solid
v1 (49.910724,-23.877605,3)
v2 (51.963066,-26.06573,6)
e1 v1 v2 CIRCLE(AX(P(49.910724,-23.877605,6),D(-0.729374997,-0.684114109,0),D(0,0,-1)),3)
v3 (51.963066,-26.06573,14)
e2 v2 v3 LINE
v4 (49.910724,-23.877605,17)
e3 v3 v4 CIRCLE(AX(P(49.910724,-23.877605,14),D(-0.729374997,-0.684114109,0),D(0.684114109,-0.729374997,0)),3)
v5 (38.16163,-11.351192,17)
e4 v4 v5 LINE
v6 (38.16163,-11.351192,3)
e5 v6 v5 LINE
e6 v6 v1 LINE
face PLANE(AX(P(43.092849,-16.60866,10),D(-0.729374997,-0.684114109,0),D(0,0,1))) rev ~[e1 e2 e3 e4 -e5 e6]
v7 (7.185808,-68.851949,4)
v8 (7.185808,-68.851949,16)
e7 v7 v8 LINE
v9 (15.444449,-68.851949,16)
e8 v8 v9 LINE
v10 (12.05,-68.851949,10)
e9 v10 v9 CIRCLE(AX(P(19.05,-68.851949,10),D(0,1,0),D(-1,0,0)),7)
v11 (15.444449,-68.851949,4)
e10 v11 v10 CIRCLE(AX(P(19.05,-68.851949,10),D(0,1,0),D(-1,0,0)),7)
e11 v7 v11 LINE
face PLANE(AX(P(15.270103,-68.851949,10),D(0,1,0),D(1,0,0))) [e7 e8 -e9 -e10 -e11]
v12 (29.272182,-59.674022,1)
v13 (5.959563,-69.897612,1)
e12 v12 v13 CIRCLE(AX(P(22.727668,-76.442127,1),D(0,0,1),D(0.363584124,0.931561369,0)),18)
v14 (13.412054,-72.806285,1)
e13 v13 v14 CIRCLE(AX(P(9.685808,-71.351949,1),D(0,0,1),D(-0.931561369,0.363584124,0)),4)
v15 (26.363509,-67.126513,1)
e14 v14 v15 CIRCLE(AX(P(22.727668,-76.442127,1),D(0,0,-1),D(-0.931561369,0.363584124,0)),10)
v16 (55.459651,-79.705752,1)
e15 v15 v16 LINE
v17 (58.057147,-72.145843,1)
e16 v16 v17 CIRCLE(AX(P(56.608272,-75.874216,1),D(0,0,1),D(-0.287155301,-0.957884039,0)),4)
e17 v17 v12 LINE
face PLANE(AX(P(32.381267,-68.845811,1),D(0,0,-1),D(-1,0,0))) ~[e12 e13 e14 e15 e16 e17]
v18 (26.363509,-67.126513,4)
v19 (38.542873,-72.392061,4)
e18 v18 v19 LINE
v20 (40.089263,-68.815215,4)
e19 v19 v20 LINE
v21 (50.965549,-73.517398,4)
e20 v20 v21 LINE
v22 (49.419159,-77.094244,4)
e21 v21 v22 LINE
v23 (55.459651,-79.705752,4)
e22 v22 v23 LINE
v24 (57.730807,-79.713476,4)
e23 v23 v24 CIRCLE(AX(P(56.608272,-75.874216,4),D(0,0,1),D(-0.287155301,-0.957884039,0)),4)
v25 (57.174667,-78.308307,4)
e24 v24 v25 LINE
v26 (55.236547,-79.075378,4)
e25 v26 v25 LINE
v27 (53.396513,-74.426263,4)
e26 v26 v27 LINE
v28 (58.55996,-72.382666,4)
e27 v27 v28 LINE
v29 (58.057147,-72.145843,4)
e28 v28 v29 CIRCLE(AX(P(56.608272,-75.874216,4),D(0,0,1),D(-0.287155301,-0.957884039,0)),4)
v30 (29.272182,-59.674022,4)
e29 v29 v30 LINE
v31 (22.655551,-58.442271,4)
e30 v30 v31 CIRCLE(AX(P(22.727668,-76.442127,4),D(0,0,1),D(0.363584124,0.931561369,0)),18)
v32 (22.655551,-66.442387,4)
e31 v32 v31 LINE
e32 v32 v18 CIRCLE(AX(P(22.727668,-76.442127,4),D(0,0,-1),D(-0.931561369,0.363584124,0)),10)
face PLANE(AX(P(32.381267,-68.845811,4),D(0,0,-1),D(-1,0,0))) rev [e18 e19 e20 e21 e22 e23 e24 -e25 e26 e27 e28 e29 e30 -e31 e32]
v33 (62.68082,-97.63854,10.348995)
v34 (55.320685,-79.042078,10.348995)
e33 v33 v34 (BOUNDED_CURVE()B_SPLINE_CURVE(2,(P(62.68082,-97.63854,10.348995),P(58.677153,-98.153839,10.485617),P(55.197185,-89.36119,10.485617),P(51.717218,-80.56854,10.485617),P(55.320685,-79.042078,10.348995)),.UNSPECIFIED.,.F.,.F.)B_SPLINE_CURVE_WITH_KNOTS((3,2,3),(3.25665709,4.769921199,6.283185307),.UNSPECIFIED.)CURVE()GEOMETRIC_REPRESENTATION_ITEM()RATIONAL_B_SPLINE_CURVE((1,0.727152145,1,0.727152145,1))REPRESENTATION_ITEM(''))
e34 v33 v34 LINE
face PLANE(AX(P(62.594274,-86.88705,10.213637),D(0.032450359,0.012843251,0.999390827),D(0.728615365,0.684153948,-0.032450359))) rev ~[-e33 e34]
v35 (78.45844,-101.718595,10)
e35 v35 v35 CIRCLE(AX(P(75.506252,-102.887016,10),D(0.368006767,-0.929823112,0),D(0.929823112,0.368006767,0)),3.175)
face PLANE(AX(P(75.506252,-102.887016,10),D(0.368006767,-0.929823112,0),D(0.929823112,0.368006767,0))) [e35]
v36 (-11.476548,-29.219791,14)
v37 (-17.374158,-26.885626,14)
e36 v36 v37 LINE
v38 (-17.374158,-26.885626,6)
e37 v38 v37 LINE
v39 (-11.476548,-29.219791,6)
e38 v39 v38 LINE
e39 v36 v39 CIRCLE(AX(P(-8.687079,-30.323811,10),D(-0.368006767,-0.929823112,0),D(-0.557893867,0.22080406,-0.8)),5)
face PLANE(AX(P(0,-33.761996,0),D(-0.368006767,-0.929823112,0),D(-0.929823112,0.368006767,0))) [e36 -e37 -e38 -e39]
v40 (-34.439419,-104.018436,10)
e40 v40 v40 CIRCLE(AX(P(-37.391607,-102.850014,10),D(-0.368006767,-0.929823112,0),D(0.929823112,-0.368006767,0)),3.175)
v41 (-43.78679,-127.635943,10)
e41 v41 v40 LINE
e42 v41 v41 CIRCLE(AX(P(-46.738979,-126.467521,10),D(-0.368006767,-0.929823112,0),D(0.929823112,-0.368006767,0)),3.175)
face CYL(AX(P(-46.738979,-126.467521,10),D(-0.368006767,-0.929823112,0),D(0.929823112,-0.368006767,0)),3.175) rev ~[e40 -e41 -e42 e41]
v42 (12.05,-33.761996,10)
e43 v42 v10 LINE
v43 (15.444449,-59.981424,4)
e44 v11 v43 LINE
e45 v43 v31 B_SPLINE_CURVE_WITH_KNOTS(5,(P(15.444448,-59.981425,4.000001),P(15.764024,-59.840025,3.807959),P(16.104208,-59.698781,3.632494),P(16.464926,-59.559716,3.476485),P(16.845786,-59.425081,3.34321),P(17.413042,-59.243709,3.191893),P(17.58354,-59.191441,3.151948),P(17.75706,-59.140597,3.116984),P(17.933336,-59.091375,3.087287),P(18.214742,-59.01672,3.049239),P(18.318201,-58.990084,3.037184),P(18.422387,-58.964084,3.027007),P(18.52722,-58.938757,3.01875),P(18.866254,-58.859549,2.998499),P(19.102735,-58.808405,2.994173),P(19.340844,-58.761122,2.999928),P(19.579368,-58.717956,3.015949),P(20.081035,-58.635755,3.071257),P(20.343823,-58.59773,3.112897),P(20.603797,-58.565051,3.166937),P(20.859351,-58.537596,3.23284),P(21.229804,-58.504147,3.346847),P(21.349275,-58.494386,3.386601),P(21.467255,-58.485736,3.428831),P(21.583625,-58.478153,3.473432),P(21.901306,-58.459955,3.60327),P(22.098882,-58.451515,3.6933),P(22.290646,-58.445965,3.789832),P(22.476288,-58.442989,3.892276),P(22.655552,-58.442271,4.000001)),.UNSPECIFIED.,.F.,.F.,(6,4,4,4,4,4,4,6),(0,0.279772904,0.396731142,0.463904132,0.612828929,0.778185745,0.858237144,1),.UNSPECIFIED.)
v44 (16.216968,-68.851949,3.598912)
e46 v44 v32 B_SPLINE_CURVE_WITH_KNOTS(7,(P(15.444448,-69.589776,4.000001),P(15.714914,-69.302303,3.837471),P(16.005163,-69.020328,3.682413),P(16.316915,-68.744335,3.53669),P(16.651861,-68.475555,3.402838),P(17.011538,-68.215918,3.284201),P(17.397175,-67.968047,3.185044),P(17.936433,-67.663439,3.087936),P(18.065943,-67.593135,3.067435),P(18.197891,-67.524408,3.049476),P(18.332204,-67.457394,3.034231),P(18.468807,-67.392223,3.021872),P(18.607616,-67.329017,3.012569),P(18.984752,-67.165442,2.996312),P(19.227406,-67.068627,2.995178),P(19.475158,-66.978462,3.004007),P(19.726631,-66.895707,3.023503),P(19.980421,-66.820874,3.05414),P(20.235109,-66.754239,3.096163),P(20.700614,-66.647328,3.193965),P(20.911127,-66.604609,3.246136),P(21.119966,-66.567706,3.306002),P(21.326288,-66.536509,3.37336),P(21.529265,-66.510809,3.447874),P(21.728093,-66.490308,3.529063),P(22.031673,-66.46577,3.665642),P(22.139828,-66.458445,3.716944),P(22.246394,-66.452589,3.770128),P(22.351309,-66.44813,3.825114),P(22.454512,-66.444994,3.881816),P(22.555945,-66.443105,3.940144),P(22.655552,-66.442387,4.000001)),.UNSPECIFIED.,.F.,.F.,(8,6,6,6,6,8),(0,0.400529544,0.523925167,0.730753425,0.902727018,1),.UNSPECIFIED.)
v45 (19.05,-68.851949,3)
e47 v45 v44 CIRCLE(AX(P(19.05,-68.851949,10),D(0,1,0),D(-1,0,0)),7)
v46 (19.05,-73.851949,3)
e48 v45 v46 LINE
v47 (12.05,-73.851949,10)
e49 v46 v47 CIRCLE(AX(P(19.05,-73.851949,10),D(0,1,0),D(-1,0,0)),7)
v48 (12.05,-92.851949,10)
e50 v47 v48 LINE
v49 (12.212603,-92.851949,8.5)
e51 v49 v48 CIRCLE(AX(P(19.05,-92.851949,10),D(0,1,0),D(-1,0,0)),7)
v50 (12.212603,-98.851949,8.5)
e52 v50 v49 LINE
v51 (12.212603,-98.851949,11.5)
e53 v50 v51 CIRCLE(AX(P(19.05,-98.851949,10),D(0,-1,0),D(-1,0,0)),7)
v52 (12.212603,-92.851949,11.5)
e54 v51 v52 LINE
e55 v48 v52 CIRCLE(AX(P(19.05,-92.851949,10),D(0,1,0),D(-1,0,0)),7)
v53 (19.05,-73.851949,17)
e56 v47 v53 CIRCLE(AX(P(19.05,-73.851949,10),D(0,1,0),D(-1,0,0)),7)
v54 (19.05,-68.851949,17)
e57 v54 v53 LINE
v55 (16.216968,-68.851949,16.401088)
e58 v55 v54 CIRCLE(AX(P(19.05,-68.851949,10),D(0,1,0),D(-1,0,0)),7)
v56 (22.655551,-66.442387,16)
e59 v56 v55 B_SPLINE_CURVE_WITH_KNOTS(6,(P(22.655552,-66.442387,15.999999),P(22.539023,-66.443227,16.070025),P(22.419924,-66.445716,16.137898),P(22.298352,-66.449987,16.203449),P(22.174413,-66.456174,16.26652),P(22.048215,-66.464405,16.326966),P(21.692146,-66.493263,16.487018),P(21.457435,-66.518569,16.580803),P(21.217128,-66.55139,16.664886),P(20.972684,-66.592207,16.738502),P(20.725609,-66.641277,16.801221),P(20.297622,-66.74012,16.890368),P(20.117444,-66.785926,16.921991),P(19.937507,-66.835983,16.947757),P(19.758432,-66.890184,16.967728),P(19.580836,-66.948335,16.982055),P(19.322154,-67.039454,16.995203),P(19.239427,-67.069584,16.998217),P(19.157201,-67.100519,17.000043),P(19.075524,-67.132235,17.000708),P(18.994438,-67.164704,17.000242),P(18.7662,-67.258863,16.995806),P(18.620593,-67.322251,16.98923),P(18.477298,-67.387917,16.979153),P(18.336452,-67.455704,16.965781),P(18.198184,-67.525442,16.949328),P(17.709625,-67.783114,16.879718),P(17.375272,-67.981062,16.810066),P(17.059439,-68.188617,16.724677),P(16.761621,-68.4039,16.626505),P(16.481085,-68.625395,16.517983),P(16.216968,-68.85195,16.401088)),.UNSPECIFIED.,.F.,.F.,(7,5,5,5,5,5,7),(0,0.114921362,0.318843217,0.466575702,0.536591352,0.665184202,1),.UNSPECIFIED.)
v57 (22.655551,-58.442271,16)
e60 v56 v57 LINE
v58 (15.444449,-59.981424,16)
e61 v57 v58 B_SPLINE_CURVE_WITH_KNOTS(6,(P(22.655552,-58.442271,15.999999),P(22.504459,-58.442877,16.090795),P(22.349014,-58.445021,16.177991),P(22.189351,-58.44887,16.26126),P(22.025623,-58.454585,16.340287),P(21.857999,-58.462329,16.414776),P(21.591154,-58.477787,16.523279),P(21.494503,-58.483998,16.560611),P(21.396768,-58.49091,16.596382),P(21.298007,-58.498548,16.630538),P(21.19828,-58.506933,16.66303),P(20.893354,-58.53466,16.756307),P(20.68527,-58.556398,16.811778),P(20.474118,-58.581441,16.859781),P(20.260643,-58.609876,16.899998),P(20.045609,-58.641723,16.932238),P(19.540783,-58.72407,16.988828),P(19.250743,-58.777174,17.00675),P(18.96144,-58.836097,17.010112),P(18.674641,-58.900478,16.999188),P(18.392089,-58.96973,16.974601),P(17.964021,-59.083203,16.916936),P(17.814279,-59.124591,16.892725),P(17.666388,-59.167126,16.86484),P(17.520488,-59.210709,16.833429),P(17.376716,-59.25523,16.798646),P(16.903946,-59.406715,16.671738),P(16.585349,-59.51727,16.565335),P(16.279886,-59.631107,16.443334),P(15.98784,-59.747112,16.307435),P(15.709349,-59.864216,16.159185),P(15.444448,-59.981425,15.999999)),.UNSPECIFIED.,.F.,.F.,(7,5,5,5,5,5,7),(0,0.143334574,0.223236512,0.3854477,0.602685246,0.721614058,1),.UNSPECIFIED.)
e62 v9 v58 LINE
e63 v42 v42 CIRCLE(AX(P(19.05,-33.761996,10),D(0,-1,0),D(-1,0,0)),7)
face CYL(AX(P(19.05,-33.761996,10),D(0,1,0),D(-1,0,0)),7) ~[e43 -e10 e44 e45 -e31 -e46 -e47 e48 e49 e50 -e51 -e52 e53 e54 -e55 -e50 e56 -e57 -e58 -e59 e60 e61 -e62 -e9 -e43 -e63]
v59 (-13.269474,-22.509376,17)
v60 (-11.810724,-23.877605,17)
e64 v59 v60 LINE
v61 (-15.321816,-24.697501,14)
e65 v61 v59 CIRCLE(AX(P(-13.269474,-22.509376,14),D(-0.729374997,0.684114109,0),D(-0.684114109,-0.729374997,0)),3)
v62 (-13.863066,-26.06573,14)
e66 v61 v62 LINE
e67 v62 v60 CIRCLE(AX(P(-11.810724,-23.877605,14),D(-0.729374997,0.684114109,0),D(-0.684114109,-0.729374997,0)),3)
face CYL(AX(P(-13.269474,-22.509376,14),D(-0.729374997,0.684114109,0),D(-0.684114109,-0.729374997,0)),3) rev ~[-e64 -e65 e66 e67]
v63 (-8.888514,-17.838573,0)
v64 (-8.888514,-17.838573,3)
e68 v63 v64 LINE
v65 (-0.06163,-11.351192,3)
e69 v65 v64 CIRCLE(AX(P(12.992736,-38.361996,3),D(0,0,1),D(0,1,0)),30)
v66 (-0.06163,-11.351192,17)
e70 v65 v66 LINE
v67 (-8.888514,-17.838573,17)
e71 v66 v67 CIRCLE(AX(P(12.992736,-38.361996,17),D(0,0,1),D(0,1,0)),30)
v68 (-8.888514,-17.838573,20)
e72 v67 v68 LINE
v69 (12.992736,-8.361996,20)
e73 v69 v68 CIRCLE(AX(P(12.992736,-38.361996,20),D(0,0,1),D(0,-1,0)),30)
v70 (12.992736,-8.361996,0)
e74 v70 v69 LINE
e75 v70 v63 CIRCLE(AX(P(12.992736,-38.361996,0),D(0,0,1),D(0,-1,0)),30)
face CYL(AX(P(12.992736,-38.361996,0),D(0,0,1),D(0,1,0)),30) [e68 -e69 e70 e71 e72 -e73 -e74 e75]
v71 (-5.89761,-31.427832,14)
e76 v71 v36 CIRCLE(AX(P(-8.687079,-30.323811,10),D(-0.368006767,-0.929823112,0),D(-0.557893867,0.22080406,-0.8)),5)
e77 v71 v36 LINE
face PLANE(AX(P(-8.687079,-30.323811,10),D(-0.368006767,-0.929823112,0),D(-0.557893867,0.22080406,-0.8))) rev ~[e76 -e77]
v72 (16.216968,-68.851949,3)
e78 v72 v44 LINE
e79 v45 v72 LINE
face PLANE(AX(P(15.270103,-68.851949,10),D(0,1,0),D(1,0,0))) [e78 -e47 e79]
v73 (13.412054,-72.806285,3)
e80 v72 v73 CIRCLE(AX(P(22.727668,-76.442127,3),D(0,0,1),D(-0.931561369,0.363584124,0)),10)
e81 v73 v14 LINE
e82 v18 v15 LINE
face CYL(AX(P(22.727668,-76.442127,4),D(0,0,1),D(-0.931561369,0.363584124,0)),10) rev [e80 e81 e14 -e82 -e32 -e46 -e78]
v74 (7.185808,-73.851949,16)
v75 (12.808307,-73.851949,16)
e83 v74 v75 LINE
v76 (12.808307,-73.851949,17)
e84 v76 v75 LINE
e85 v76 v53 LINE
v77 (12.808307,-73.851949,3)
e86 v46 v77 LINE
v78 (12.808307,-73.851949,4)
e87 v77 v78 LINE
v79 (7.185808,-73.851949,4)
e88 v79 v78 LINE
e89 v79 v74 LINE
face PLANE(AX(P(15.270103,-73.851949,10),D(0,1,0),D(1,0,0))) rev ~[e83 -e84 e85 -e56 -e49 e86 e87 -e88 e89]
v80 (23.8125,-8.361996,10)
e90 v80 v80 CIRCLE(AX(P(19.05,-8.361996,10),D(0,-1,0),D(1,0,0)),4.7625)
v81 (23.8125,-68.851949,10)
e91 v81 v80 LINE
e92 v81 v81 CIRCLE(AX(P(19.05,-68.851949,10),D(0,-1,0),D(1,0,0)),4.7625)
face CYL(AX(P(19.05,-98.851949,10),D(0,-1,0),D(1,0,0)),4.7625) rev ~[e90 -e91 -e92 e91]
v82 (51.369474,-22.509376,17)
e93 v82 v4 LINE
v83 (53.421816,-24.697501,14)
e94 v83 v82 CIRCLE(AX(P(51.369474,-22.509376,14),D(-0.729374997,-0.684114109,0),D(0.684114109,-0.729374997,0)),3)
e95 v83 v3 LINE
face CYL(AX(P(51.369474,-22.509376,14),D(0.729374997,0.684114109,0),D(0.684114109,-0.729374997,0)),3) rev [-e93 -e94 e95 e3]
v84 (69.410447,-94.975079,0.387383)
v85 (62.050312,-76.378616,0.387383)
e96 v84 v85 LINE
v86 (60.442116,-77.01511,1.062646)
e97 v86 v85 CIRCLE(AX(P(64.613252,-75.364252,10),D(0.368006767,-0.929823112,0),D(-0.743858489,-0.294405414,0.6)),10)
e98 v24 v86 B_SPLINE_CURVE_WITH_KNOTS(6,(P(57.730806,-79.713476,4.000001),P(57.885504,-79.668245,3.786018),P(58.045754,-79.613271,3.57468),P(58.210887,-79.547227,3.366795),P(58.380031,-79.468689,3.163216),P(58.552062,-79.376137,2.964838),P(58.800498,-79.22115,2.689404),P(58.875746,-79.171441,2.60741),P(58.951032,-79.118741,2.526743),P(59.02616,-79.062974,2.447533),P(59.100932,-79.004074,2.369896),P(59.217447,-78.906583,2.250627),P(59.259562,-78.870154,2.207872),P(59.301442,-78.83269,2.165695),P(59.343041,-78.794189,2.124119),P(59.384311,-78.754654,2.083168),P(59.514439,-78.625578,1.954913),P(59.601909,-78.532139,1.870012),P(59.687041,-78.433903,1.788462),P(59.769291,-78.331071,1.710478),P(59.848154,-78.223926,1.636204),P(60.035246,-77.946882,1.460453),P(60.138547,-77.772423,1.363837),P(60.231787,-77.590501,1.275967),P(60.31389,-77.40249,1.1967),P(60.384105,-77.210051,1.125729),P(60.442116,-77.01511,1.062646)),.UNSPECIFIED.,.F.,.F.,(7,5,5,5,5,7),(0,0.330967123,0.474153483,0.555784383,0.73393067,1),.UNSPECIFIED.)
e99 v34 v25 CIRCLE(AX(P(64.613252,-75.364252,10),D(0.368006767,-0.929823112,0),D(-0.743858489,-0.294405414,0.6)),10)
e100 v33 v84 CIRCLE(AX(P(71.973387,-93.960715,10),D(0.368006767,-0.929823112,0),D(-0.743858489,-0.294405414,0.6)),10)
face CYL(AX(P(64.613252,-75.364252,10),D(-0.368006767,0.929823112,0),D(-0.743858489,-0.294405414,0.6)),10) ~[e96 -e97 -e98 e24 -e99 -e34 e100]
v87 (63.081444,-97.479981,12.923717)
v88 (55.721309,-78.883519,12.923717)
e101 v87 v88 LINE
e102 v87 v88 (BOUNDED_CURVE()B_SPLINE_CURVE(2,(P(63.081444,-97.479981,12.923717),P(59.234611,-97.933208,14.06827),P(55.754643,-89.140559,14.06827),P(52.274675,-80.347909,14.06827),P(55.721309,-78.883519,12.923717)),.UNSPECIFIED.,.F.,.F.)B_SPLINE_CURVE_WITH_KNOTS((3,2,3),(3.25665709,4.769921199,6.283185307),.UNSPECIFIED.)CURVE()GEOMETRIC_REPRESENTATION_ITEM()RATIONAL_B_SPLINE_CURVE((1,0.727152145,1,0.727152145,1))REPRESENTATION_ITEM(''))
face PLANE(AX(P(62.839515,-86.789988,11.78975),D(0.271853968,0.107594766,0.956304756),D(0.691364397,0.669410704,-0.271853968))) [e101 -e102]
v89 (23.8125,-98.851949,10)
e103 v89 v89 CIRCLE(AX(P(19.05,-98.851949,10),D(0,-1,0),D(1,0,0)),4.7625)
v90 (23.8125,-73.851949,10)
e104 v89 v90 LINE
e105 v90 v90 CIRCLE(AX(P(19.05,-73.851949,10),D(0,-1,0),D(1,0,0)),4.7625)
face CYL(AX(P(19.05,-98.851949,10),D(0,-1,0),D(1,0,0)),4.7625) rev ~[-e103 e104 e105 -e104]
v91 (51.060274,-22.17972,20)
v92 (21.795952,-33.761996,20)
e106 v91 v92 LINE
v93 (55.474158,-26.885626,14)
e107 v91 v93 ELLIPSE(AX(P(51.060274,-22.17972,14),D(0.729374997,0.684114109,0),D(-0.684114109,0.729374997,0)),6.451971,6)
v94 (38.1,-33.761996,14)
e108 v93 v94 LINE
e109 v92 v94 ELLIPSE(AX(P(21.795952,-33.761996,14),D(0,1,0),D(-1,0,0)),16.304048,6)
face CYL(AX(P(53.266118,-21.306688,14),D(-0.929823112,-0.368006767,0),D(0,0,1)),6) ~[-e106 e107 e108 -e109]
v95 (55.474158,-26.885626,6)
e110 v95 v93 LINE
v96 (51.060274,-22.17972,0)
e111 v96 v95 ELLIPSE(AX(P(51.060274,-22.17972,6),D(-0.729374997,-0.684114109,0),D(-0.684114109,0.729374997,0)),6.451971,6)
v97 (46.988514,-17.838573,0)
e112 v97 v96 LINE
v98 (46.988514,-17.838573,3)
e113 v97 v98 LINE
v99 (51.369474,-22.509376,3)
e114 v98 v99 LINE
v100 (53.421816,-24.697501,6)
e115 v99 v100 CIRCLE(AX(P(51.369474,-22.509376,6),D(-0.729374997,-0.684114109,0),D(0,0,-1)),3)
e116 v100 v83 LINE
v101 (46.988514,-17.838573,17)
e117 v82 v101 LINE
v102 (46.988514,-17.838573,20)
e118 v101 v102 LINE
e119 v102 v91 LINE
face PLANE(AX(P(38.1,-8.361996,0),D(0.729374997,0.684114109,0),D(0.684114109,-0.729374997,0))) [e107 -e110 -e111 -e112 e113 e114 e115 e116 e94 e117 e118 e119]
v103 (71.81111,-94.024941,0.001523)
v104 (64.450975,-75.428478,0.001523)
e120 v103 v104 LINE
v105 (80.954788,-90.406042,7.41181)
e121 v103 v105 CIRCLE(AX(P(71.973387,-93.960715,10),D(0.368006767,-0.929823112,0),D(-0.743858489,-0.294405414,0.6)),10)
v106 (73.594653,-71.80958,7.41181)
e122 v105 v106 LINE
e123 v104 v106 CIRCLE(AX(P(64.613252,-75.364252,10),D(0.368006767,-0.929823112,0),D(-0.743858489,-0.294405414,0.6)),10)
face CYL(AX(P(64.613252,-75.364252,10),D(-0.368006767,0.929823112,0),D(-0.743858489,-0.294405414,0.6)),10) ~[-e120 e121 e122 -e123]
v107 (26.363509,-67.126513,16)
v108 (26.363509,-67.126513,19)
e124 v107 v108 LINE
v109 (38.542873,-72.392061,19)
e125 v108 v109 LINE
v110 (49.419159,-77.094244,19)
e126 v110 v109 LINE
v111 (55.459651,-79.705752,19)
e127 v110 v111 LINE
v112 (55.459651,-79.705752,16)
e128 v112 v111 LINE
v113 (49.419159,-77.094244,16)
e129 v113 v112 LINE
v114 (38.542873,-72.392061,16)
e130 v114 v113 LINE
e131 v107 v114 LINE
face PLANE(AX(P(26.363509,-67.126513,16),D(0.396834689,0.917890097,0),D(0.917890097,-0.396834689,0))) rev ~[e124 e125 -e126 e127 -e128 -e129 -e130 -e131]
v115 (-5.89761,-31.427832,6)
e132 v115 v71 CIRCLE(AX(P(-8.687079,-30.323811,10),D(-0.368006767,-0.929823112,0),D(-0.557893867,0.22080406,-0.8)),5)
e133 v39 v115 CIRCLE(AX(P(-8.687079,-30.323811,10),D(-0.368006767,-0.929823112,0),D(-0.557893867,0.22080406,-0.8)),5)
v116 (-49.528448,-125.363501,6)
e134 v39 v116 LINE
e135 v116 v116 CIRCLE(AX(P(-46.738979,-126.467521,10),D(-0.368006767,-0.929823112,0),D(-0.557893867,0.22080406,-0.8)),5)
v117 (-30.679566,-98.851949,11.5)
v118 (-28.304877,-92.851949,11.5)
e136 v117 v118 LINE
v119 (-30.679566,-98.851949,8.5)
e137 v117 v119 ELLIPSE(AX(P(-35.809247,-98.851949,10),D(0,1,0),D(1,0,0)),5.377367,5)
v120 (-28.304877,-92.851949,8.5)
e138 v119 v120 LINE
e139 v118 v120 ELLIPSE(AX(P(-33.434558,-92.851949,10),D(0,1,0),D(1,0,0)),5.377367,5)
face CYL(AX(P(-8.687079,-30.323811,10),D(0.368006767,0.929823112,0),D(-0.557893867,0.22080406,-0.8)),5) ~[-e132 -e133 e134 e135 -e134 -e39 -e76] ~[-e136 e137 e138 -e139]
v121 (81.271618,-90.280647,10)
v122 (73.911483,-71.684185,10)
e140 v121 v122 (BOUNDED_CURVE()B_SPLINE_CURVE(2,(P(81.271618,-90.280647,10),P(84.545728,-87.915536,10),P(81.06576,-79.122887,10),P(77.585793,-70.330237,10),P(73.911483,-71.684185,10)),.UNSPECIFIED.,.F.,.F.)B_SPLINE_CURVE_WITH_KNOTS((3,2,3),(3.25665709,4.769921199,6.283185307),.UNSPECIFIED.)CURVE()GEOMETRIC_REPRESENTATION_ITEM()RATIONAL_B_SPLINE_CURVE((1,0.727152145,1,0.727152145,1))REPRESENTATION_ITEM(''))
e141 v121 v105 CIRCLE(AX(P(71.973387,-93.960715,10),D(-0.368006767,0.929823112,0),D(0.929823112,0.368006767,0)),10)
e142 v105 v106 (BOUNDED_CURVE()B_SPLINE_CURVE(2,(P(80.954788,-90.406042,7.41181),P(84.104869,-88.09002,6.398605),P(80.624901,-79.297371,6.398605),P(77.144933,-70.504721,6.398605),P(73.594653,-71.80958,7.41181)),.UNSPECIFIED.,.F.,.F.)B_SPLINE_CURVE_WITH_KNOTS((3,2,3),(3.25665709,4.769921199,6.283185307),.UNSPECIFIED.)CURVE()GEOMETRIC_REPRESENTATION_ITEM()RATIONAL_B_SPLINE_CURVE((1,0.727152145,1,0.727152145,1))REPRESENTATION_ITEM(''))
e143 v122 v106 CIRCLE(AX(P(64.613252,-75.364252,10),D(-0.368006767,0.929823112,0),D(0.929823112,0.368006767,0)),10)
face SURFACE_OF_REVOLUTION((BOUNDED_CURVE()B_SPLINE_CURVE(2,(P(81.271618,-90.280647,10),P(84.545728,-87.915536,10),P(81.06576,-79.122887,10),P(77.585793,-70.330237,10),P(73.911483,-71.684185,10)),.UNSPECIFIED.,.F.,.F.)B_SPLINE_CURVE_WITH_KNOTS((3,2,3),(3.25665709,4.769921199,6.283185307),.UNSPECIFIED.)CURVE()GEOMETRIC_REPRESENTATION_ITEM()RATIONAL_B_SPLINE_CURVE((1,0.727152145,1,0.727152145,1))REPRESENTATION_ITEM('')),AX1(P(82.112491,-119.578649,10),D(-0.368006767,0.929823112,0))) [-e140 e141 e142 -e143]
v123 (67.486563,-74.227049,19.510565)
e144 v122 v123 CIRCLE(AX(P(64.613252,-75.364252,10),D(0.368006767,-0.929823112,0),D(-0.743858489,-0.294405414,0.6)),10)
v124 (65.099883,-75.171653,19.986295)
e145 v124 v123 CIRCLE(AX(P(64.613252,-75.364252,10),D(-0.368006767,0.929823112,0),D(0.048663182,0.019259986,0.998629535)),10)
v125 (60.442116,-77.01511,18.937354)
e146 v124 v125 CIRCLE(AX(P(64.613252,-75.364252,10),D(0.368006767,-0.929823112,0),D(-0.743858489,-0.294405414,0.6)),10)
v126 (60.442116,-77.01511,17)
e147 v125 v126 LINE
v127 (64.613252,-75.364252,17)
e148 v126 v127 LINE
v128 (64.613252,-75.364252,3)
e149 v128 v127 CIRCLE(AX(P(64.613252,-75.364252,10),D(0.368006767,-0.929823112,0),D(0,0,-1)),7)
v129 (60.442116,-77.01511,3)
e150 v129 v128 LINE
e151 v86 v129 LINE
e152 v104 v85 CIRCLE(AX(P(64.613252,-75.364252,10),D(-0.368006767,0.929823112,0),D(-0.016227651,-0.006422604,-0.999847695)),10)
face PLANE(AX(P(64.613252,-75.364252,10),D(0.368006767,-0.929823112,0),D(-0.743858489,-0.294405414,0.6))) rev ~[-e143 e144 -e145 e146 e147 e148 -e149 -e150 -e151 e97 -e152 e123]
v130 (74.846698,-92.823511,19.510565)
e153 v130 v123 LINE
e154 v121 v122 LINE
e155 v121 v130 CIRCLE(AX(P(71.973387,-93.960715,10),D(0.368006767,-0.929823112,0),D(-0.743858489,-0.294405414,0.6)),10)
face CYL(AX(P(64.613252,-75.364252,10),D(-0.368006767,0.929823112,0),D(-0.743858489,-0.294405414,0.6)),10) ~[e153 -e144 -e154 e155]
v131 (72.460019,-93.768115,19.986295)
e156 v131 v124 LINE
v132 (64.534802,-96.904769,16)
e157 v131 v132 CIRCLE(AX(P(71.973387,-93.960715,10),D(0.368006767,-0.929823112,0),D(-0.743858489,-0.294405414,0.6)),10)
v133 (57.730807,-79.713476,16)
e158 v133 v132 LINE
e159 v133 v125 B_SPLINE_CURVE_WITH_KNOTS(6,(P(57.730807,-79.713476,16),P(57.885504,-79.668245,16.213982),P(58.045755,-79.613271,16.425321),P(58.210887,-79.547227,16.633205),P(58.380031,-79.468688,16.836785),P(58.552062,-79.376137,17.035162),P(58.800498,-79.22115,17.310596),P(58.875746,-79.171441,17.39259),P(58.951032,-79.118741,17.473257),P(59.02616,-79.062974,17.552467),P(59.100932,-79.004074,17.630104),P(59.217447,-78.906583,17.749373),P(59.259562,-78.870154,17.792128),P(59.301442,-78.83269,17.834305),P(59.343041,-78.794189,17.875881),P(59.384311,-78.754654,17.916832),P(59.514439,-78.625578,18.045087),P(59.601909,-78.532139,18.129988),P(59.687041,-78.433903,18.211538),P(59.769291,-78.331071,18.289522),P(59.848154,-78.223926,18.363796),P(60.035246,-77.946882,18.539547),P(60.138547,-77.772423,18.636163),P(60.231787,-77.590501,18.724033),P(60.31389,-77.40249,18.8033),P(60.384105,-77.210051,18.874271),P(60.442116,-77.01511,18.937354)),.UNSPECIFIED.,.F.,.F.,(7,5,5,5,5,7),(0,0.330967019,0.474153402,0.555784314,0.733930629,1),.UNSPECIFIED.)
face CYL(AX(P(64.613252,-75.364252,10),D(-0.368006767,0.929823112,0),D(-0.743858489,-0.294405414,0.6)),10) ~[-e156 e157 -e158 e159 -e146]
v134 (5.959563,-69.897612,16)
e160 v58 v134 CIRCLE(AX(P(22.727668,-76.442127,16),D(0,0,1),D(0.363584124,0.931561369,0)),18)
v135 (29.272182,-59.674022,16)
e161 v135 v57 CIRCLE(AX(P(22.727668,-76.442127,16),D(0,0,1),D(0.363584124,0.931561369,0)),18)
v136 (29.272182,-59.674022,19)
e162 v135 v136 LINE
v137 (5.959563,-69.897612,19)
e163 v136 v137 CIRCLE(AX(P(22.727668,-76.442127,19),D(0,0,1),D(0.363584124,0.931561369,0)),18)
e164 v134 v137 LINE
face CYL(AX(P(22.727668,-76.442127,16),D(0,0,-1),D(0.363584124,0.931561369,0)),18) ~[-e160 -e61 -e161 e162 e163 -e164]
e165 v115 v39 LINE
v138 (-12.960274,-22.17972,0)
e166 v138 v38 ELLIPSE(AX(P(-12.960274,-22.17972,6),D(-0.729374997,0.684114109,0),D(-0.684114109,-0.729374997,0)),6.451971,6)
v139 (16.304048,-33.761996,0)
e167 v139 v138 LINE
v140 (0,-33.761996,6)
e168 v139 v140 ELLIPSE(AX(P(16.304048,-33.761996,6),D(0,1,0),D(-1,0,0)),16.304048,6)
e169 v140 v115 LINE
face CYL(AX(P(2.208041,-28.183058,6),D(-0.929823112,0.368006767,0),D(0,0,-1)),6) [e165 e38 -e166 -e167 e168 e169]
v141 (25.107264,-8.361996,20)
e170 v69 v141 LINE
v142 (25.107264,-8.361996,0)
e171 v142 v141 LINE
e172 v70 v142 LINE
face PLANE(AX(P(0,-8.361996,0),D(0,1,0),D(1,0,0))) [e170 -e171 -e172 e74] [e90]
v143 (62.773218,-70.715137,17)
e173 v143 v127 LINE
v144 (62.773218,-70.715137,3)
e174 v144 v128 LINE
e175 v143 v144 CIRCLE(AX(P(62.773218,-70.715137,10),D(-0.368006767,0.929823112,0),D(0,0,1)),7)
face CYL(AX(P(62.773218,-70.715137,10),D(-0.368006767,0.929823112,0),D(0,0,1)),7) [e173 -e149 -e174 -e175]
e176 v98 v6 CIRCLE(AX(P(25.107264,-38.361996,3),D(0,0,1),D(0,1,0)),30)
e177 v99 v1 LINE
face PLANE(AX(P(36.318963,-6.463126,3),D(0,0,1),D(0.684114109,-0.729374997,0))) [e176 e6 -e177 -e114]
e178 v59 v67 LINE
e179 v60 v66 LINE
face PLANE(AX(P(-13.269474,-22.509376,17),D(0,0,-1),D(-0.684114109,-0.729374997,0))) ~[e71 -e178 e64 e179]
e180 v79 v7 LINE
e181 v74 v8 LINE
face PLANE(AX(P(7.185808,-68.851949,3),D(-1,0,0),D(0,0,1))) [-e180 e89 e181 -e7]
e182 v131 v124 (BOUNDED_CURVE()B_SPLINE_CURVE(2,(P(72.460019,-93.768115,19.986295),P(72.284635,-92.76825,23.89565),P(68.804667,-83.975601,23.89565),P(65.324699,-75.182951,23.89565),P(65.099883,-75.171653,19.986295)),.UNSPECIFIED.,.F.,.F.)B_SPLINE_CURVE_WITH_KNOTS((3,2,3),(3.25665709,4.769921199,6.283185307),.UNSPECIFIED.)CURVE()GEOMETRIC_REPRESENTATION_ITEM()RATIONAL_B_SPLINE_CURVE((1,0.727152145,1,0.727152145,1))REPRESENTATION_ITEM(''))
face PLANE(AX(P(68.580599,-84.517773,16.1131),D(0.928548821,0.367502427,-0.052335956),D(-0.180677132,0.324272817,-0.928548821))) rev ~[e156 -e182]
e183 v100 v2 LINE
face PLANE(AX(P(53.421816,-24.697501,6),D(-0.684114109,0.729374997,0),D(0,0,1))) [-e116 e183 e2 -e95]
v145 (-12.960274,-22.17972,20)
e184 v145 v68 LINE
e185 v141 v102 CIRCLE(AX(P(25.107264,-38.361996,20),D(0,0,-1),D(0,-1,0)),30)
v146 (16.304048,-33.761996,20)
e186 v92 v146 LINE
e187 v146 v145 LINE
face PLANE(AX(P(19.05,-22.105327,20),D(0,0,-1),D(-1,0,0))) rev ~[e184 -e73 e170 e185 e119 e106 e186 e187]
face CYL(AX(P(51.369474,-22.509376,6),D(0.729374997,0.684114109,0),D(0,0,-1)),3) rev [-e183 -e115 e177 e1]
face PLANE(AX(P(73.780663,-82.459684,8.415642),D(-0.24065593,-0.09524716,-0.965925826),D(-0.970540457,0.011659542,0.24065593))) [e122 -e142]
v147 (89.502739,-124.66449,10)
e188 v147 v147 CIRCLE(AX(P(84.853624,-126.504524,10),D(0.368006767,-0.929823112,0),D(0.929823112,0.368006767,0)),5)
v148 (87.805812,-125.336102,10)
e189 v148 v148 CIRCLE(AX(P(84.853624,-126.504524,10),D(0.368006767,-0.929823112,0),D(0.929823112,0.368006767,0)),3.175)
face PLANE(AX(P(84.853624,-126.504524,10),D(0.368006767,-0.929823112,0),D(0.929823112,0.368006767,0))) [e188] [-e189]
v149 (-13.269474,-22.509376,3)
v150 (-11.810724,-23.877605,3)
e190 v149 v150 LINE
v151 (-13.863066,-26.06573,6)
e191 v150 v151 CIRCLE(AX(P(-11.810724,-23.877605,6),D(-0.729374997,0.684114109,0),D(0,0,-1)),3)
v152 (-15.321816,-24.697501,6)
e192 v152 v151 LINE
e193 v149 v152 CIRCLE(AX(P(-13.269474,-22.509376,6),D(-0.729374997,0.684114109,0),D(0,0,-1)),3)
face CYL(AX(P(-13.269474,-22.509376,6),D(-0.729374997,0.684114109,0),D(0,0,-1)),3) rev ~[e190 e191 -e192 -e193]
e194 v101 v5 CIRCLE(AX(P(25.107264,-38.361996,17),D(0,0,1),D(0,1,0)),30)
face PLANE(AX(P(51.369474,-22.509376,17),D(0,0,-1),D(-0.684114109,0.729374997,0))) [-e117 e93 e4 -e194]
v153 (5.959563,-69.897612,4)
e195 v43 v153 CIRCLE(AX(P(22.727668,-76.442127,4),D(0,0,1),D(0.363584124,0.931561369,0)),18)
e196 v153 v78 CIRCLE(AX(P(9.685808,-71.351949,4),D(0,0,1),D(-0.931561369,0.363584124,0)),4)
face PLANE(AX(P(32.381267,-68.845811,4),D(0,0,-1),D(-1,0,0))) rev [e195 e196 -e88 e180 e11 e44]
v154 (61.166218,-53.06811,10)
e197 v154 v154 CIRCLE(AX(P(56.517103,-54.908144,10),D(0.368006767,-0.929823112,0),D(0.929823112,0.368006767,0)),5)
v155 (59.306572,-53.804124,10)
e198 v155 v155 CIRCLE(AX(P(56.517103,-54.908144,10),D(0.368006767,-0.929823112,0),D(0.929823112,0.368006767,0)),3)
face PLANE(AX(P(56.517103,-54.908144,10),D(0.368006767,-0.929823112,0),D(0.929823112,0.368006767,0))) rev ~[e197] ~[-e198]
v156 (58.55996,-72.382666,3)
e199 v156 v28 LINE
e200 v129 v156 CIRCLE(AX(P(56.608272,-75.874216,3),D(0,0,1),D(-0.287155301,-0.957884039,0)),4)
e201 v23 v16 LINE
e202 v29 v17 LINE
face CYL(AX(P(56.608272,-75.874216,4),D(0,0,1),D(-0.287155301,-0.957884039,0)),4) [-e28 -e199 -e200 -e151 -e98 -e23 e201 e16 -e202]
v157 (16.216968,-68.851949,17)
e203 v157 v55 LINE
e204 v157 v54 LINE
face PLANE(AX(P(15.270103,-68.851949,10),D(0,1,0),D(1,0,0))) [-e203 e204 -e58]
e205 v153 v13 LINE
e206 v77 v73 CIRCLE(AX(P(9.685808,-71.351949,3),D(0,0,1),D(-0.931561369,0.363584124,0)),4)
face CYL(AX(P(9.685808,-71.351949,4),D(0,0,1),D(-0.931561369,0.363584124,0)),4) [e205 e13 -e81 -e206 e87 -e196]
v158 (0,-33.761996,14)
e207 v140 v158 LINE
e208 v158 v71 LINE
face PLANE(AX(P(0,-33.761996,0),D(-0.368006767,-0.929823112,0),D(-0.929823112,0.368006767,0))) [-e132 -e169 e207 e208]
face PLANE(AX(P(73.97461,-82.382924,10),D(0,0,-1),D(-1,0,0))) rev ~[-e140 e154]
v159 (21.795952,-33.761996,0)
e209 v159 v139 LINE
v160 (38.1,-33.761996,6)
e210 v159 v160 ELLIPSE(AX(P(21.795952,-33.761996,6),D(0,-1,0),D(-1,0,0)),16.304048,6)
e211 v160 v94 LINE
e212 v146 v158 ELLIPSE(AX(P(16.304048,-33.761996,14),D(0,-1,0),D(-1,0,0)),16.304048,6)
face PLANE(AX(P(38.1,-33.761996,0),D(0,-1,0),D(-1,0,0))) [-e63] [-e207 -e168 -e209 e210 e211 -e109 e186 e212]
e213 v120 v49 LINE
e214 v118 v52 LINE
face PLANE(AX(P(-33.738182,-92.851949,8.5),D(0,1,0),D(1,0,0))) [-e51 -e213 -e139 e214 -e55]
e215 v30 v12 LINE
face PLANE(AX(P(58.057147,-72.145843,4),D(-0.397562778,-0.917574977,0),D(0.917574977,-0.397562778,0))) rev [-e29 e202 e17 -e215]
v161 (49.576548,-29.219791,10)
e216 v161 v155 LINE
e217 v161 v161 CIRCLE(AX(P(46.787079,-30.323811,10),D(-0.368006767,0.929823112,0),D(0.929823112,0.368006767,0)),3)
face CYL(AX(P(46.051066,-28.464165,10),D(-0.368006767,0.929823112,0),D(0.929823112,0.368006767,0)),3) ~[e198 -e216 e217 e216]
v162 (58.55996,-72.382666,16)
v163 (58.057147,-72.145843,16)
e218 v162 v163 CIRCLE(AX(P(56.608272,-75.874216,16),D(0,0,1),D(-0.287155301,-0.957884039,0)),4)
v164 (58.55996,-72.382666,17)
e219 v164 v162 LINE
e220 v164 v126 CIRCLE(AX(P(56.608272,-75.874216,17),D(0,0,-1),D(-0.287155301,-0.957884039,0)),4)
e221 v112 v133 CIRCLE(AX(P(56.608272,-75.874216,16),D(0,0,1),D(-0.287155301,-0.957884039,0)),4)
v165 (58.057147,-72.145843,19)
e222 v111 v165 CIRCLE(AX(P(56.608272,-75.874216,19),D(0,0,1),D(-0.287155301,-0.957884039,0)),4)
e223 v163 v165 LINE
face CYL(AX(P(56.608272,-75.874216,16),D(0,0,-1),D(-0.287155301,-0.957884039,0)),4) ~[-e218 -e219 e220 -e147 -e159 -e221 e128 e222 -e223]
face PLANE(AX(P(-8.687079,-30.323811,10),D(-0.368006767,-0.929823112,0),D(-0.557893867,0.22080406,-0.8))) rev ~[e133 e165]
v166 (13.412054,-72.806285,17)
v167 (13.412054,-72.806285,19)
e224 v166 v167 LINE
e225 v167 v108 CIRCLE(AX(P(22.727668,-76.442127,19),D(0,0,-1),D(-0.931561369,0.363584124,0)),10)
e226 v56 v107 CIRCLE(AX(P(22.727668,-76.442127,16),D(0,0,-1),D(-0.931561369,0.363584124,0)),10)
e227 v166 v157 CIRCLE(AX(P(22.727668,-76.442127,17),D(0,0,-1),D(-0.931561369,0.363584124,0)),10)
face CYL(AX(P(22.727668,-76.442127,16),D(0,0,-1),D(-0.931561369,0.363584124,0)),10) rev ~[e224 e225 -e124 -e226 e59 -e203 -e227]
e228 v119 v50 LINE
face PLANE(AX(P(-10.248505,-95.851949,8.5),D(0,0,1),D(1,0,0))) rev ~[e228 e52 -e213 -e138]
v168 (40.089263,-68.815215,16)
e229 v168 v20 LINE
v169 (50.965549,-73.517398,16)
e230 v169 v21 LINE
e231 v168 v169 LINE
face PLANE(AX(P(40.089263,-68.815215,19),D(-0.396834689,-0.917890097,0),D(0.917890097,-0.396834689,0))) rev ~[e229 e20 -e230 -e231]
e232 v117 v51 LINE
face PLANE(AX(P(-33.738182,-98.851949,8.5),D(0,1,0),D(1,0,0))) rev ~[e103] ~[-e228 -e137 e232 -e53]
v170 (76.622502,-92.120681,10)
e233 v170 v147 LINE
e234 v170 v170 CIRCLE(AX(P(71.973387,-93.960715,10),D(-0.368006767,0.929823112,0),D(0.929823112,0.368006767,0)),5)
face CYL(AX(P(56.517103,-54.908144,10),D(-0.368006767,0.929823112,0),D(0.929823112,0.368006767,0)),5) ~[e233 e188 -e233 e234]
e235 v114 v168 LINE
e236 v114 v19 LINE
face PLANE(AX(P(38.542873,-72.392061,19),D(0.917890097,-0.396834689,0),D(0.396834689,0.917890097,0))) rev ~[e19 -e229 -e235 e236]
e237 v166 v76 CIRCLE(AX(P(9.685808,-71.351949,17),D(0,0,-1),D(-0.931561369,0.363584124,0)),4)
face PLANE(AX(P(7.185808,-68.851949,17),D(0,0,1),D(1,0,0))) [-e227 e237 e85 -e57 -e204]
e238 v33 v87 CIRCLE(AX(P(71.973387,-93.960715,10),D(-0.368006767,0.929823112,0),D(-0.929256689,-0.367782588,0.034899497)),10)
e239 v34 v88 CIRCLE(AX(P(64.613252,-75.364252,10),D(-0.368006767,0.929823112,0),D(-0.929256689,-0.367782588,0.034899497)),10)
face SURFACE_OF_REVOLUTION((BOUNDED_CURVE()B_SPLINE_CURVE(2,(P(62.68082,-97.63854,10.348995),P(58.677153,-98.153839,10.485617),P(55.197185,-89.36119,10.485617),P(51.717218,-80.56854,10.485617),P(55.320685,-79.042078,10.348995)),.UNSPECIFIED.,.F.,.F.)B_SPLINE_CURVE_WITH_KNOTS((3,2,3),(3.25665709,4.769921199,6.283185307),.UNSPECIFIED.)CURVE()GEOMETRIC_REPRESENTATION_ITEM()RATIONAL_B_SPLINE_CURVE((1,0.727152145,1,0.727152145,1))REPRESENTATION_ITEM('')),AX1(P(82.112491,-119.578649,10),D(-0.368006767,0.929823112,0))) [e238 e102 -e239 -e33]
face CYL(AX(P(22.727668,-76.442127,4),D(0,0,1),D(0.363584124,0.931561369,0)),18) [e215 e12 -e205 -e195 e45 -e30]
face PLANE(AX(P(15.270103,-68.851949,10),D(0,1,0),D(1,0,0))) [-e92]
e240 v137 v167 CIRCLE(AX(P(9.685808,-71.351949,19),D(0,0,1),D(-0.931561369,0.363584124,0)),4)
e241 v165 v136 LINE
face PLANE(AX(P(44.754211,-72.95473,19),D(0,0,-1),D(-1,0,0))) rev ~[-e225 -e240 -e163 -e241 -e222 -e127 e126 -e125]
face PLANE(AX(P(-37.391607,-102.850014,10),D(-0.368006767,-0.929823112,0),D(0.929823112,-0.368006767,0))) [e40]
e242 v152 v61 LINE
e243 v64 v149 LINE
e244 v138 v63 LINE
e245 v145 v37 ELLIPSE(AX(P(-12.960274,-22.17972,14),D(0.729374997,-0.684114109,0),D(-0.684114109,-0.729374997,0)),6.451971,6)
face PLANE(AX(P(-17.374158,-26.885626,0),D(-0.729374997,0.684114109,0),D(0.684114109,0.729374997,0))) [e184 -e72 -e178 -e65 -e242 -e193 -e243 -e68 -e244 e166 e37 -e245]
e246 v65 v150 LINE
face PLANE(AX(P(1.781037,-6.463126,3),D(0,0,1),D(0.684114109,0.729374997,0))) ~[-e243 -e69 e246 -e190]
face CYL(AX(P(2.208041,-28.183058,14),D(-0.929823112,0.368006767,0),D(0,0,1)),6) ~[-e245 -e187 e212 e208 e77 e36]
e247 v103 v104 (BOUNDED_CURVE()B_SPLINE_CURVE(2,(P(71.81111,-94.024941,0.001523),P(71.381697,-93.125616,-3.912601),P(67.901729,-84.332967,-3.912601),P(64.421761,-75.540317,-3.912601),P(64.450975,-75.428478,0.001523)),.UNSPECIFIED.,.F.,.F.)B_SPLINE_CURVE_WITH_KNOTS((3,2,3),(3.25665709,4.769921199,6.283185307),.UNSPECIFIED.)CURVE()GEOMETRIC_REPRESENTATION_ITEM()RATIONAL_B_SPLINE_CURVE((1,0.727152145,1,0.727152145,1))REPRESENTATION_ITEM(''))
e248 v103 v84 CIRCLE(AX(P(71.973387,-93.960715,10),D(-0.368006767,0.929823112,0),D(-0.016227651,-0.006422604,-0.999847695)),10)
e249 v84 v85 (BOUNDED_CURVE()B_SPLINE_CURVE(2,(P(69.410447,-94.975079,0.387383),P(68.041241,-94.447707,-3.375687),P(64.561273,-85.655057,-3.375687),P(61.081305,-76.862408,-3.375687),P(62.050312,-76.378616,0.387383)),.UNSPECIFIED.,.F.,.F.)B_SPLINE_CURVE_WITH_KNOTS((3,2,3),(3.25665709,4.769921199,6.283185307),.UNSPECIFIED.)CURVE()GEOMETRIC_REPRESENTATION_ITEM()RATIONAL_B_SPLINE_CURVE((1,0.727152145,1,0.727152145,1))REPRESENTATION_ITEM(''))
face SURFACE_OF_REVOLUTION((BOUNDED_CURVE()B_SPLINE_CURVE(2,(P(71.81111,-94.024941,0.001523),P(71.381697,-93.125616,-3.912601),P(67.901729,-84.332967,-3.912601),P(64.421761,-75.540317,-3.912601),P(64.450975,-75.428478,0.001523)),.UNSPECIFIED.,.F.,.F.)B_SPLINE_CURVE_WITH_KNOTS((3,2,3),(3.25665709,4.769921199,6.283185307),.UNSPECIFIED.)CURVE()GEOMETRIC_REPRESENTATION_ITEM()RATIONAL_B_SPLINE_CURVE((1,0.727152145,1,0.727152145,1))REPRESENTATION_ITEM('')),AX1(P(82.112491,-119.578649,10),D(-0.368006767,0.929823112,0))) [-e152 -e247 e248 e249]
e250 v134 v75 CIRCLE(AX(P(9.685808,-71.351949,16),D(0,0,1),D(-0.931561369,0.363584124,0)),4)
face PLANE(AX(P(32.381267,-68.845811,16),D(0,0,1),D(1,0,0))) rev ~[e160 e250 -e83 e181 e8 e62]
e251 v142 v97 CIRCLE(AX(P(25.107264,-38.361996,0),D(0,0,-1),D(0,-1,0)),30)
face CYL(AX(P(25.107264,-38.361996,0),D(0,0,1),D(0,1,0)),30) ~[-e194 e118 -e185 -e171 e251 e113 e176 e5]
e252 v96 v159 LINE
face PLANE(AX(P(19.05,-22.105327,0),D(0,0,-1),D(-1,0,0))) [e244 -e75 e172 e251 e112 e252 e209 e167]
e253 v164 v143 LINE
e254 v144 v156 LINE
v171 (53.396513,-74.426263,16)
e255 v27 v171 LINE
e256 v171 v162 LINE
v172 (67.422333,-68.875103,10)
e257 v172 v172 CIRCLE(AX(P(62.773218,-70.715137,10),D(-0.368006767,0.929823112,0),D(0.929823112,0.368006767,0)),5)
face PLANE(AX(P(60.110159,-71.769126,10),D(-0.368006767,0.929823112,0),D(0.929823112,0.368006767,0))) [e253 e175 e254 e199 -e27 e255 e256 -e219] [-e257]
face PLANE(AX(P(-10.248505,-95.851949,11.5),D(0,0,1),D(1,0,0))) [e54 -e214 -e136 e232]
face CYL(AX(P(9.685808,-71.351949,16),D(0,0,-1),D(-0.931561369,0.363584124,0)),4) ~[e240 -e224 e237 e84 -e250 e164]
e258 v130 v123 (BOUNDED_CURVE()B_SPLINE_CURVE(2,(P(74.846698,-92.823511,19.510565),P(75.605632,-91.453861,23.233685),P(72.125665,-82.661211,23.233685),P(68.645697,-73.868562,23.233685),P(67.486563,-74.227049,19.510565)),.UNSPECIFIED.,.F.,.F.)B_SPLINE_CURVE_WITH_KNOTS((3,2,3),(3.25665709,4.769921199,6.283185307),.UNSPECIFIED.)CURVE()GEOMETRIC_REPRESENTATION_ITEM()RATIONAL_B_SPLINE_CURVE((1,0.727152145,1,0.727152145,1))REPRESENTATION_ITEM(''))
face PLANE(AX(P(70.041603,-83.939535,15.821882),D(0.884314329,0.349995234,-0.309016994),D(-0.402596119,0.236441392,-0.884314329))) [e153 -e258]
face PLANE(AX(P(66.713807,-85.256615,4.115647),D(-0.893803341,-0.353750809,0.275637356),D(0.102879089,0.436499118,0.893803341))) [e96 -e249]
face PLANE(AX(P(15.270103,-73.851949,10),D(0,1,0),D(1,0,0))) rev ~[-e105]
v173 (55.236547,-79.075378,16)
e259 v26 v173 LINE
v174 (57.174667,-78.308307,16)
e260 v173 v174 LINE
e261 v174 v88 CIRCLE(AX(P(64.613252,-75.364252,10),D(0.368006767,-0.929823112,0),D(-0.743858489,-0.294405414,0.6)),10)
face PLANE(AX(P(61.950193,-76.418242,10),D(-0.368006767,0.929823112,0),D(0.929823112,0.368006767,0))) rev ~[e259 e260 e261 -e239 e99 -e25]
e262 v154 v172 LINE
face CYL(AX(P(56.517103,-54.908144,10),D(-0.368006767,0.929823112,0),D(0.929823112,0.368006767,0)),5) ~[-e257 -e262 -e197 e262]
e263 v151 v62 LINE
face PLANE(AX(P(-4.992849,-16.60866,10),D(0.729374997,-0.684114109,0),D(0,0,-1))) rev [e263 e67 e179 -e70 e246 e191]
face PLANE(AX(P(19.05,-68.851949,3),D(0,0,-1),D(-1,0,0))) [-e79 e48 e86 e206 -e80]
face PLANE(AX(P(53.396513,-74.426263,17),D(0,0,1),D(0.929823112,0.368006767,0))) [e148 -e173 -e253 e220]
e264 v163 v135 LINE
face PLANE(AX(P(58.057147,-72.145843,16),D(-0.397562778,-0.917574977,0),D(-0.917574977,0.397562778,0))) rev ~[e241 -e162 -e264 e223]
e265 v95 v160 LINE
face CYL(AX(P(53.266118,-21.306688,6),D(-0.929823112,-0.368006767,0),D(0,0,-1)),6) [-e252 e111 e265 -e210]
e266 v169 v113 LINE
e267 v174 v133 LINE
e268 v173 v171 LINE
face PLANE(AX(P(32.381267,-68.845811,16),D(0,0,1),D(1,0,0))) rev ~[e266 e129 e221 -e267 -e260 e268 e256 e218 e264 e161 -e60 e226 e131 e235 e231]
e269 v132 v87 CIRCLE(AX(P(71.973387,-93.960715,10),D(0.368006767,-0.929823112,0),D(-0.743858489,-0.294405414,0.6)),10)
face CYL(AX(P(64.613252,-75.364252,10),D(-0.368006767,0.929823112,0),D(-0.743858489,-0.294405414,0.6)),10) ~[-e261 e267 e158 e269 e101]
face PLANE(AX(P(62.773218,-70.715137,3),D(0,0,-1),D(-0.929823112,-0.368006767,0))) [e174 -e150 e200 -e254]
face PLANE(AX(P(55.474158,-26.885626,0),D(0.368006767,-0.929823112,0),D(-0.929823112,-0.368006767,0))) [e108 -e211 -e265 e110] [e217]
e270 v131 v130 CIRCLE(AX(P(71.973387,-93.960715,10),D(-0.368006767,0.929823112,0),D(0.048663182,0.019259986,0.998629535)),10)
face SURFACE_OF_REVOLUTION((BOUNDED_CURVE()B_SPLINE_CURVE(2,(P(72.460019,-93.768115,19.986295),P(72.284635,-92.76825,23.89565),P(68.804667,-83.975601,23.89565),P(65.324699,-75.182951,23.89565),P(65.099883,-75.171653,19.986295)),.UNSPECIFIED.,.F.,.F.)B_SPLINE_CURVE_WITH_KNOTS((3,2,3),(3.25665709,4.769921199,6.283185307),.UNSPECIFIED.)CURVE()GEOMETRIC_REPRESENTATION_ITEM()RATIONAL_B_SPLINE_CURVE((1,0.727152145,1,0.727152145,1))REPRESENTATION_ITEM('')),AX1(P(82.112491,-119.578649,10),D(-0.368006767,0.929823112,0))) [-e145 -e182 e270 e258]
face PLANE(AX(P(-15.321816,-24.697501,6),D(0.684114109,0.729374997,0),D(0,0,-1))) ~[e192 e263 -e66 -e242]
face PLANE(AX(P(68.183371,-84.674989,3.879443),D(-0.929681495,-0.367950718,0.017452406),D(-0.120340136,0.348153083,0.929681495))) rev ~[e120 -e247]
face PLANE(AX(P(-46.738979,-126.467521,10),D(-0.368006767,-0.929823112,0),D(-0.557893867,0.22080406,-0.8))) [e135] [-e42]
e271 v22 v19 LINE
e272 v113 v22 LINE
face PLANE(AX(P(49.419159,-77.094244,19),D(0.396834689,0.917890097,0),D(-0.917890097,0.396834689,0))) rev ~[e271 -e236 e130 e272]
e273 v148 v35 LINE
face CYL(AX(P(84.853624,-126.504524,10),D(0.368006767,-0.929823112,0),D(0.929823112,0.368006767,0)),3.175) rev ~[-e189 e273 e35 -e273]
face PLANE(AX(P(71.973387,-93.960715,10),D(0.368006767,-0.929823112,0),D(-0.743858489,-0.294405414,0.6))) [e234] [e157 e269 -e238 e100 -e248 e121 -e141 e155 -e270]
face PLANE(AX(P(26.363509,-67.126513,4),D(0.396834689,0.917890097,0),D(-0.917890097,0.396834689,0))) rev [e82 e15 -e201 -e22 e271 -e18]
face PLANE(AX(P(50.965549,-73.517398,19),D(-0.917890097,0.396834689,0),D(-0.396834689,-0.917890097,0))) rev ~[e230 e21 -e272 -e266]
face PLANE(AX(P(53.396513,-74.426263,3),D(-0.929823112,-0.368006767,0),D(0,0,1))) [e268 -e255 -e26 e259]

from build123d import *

# Parameters (mm, degrees)
BOSS_EXTRUDE2_DEPTH       = 20
FILLET1_R                 = 30
FILLET2_R                 = 6
SKETCH2_R                 = 7
BOSS_EXTRUDE3_DEPTH       = 65.089952611
SKETCH3_R                 = 4.7625
CUT_EXTRUDE1_DEPTH        = 109.008396677
BOSS_EXTRUDE5_DEPTH       = 26.439795129
BOSS_EXTRUDE5_DEPTH_BACK  = 2
SKETCH6_R                 = 3
SKETCH8_R                 = 5
BOSS_EXTRUDE6_DEPTH       = 77
SKETCH9_R                 = 5
BOSS_EXTRUDE7_DEPTH       = 103.4
BOSS_EXTRUDE8_DEPTH       = 5
BOSS_EXTRUDE9_DEPTH       = 5
CUT_EXTRUDE2_DEPTH        = 2
BOSS_EXTRUDE14_START      = -1
BOSS_EXTRUDE14_DEPTH      = 3
BOSS_EXTRUDE15_DEPTH      = 15
SKETCH23_R                = 10
BOSS_EXTRUDE17_DEPTH      = 20
REVOLVE1_ANGLE            = 15
CIRPATTERN1_COUNT         = 4
CIRPATTERN1_ANGLE         = 273
SKETCH24_R                = 3.175
CUT_EXTRUDE3_DEPTH        = 25.4
SKETCH25_R                = 3.175
CUT_EXTRUDE4_DEPTH        = 25.4
BOSS_EXTRUDE20_DEPTH      = 1.5
BOSS_EXTRUDE20_DEPTH_BACK = 1.5
SKETCH26_W                = 46.97935404
SKETCH26_H                = 6


with BuildPart() as part:
    # Sketch1 → Boss-Extrude2 (new body)
    with BuildSketch(Plane.XY):
        Polygon((0, -8.361996352), (38.1, -8.361996352), (55.47415821, -26.885626298), (38.1, -33.761996352), (0, -33.761996352), (-17.37415821, -26.885626298), align=None)
    extrude(amount=BOSS_EXTRUDE2_DEPTH)

    # Fillet1
    fillet1_edges = [part.edges().sort_by_distance(p)[0] for p in [
        (0, -8.361996352, 10),
        (38.1, -8.361996352, 10),
    ]]
    fillet(fillet1_edges, radius=FILLET1_R)

    # Fillet2
    fillet2_edges = [part.edges().sort_by_distance(p)[0] for p in [
        (46.787079105, -30.323811325, 20),
        (-8.687079105, -30.323811325, 20),
        (46.787079105, -30.323811325, 0),
        (-8.687079105, -30.323811325, 0),
    ]]
    fillet(fillet2_edges, radius=FILLET2_R)

    # Sketch2 → Boss-Extrude3 (add)
    with BuildSketch(Plane.XZ.offset(33.761996352)):
        with Locations(Location((19.05, 10, 0), (0, 0, 180))):
            Circle(SKETCH2_R)
    extrude(amount=BOSS_EXTRUDE3_DEPTH)

    # Sketch3 → Cut-Extrude1 (cut, through all)
    with BuildSketch(Plane.XZ.offset(98.851948963)):
        with Locations((19.05, 10)):
            Circle(SKETCH3_R)
    extrude(amount=-CUT_EXTRUDE1_DEPTH, mode=Mode.SUBTRACT)

    # Sketch6 → Boss-Extrude5 (add, two sides: drawn at the far end of the back side and taken through both)
    with BuildSketch(Plane(origin=(16.71256452, -42.226747224, 0), x_dir=(-0.9298231117187001, -0.36800676748363437, 0), z_dir=(0.36800676748363437, -0.9298231117187001, 0)).offset(-BOSS_EXTRUDE5_DEPTH_BACK)):
        with Locations(Location((-32.344339698, -10, 0), (0, 0, 180))):
            Circle(SKETCH6_R)
    extrude(amount=BOSS_EXTRUDE5_DEPTH + BOSS_EXTRUDE5_DEPTH_BACK)

    # Sketch8 → Boss-Extrude6 (add)
    with BuildSketch(Plane(origin=(26.442588059, -66.811079804, 0), x_dir=(0.9298231117187001, 0.36800676748363437, 0), z_dir=(0.36800676748363437, -0.9298231117187001, 0))):
        with Locations((32.344339698, 10)):
            Circle(SKETCH8_R)
    extrude(amount=BOSS_EXTRUDE6_DEPTH)

    # Sketch9 → Boss-Extrude7 (add)
    with BuildSketch(Plane(origin=(-11.552720348, -29.189643592, 0), x_dir=(-0.9298231117187001, 0.36800676748363437, 0), z_dir=(-0.36800676748363437, -0.9298231117187001, 0))):
        with Locations(Location((-3.081920858, -10, 0), (0, 0, 53.130102354))):
            Circle(SKETCH9_R)
    extrude(amount=BOSS_EXTRUDE7_DEPTH)

    # Sketch11 → Boss-Extrude8 (add)
    with BuildSketch(Plane(origin=(32.698703106, -82.618072703, 0), x_dir=(-0.9298231117187001, -0.36800676748363437, 0), z_dir=(0.36800676748363437, -0.9298231117187001, 0))):
        with BuildLine():
            Line((-32.344339698, -3), (-22.259943936, -3))
            Line((-22.259943936, -3), (-22.259943936, -17))
            Line((-22.259943936, -17), (-32.344339698, -17))
            ThreePointArc((-32.344339698, -17), (-39.344339698, -10), (-32.344339698, -3))
        make_face()
    extrude(amount=BOSS_EXTRUDE8_DEPTH)

    # Sketch15 → Boss-Extrude9 (add)
    with BuildSketch(Plane(origin=(0, -68.851948963, 0), x_dir=(-1, 0, 0), z_dir=(0, -1, 0))):
        with BuildLine():
            Line((-19.05, -3), (-7.185808352, -3))
            Line((-7.185808352, -3), (-7.185808352, -17))
            Line((-7.185808352, -17), (-19.05, -17))
            ThreePointArc((-19.05, -17), (-26.05, -10), (-19.05, -3))
        make_face()
    extrude(amount=BOSS_EXTRUDE9_DEPTH)

    # Sketch17 → Cut-Extrude2 (cut)
    with BuildSketch(Plane(origin=(16.096305264, 15.097459572, 0), x_dir=(0, 0, -1), z_dir=(0.7293749969664987, 0.6841141087568068, 0))):
        with BuildLine():
            Line((-17, -51.560357903), (-17, -29.560357903))
            Line((-17, -29.560357903), (-3, -29.560357903))
            Line((-3, -29.560357903), (-3, -51.560357903))
            ThreePointArc((-3, -51.560357903), (-3.878679656, -53.681678246), (-6, -54.560357903))
            Line((-6, -54.560357903), (-14, -54.560357903))
            ThreePointArc((-14, -54.560357903), (-16.121320344, -53.681678246), (-17, -51.560357903))
        make_face()
    cut_extrude2 = extrude(amount=-CUT_EXTRUDE2_DEPTH, mode=Mode.SUBTRACT)

    # Mirror2: Cut-Extrude2 across plane
    add(cut_extrude2.mirror(Plane(origin=(19.05, -8.361996352, 20), x_dir=(0, 0, 1), z_dir=(-1, 0, 0))), mode=Mode.SUBTRACT)

    # Sketch19 → Boss-Extrude14 (add)
    with BuildSketch(Plane.XY.offset(17).offset(BOSS_EXTRUDE14_START)):
        with BuildLine():
            Line((58.057147373, -72.145843092), (29.272181754, -59.674022052))
            ThreePointArc((29.272181754, -59.674022052), (15.498497411, -59.957615802), (5.959562875, -69.897612467))
            ThreePointArc((5.959562875, -69.897612467), (8.231471856, -75.078194441), (13.412053829, -72.806285459))
            ThreePointArc((13.412053829, -72.806285459), (18.711461905, -67.28406509), (26.363508762, -67.126513006))
            Line((26.363508762, -67.126513006), (55.459651192, -79.705751724))
            ThreePointArc((55.459651192, -79.705751724), (60.391206803, -77.17398758), (58.057147373, -72.145843092))
        make_face()
    boss_extrude14 = extrude(amount=BOSS_EXTRUDE14_DEPTH)

    # Mirror4: Boss-Extrude14 across plane
    add(boss_extrude14.mirror(Plane.XY.offset(10)))

    # Sketch20 → Boss-Extrude15 (add)
    with BuildSketch(Plane.XY.offset(19)):
        Polygon((49.419158693, -77.094244123), (38.542872969, -72.392060841), (40.089263446, -68.815215009), (50.96554917, -73.51739829), align=None)
    extrude(amount=-BOSS_EXTRUDE15_DEPTH)

    # Sketch23 → Boss-Extrude17 (add)
    with BuildSketch(Plane(origin=(34.538736943, -87.267188261, 0), x_dir=(0.9298231117187001, 0.36800676748363437, 0), z_dir=(0.36800676748363437, -0.9298231117187001, 0))):
        with Locations(Location((32.344339698, 10, 0), (0, 0, 143.130102354))):
            Circle(SKETCH23_R)
    extrude(amount=BOSS_EXTRUDE17_DEPTH)

    # Sketch22 → Revolve1 (revolve)
    with BuildSketch(Plane.XY.offset(10)):
        with BuildLine():
            Line((64.613251528, -75.364252363), (73.911482645, -71.684184688))
            add(Edge.make_bspline(
                [(81.271617995, -90.280646922), (84.545728308, -87.915536418), (81.065760473, -79.122886915), (77.585792638, -70.330237413), (73.911482645, -71.684184688)],
                knots=[3.25665709, 3.25665709, 3.25665709, 4.769921199, 4.769921199, 6.283185307, 6.283185307, 6.283185307], degree=2, weights=[1, 0.727152145, 1, 0.727152145, 1]))
            Line((81.271617995, -90.280646922), (71.973386878, -93.960714597))
            Line((71.973386878, -93.960714597), (64.613251528, -75.364252363))
        make_face()
    revolve1 = revolve(axis=Axis((82.112490758, -119.578648703, 10), (-0.3680067674836343, 0.9298231117187002, 0)), revolution_arc=REVOLVE1_ANGLE)

    # CirPattern1: Revolve1 ×4 about axis
    cirpattern1_axis = Axis((82.112490758, -119.578648703, 10), (-0.3680067674836343, 0.9298231117187002, 0))
    for i in range(1, CIRPATTERN1_COUNT):
        add(revolve1.rotate(cirpattern1_axis, i * CIRPATTERN1_ANGLE / (CIRPATTERN1_COUNT - 1)))

    # Sketch24 → Cut-Extrude3 (cut)
    with BuildSketch(Plane(origin=(-49.604620105, -125.333353344, 0), x_dir=(0.9298231117187001, -0.36800676748363437, 0), z_dir=(-0.36800676748363437, -0.9298231117187001, 0))):
        with Locations((3.081920858, 10)):
            Circle(SKETCH24_R)
    extrude(amount=-CUT_EXTRUDE3_DEPTH, mode=Mode.SUBTRACT)

    # Sketch25 → Cut-Extrude4 (cut)
    with BuildSketch(Plane(origin=(54.779109155, -138.407459406, 0), x_dir=(0.9298231117187001, 0.36800676748363437, 0), z_dir=(0.36800676748363437, -0.9298231117187001, 0))):
        with Locations((32.344339698, 10)):
            Circle(SKETCH25_R)
    extrude(amount=-CUT_EXTRUDE4_DEPTH, mode=Mode.SUBTRACT)

    # Sketch26 → Boss-Extrude20 (add, two sides: drawn at the far end of the back side and taken through both)
    with BuildSketch(Plane.XY.offset(10).offset(-BOSS_EXTRUDE20_DEPTH_BACK)):
        with Locations((-10.248504991, -95.851948963)):
            Rectangle(SKETCH26_W, SKETCH26_H)
    extrude(amount=BOSS_EXTRUDE20_DEPTH + BOSS_EXTRUDE20_DEPTH_BACK)


solid = part.part
